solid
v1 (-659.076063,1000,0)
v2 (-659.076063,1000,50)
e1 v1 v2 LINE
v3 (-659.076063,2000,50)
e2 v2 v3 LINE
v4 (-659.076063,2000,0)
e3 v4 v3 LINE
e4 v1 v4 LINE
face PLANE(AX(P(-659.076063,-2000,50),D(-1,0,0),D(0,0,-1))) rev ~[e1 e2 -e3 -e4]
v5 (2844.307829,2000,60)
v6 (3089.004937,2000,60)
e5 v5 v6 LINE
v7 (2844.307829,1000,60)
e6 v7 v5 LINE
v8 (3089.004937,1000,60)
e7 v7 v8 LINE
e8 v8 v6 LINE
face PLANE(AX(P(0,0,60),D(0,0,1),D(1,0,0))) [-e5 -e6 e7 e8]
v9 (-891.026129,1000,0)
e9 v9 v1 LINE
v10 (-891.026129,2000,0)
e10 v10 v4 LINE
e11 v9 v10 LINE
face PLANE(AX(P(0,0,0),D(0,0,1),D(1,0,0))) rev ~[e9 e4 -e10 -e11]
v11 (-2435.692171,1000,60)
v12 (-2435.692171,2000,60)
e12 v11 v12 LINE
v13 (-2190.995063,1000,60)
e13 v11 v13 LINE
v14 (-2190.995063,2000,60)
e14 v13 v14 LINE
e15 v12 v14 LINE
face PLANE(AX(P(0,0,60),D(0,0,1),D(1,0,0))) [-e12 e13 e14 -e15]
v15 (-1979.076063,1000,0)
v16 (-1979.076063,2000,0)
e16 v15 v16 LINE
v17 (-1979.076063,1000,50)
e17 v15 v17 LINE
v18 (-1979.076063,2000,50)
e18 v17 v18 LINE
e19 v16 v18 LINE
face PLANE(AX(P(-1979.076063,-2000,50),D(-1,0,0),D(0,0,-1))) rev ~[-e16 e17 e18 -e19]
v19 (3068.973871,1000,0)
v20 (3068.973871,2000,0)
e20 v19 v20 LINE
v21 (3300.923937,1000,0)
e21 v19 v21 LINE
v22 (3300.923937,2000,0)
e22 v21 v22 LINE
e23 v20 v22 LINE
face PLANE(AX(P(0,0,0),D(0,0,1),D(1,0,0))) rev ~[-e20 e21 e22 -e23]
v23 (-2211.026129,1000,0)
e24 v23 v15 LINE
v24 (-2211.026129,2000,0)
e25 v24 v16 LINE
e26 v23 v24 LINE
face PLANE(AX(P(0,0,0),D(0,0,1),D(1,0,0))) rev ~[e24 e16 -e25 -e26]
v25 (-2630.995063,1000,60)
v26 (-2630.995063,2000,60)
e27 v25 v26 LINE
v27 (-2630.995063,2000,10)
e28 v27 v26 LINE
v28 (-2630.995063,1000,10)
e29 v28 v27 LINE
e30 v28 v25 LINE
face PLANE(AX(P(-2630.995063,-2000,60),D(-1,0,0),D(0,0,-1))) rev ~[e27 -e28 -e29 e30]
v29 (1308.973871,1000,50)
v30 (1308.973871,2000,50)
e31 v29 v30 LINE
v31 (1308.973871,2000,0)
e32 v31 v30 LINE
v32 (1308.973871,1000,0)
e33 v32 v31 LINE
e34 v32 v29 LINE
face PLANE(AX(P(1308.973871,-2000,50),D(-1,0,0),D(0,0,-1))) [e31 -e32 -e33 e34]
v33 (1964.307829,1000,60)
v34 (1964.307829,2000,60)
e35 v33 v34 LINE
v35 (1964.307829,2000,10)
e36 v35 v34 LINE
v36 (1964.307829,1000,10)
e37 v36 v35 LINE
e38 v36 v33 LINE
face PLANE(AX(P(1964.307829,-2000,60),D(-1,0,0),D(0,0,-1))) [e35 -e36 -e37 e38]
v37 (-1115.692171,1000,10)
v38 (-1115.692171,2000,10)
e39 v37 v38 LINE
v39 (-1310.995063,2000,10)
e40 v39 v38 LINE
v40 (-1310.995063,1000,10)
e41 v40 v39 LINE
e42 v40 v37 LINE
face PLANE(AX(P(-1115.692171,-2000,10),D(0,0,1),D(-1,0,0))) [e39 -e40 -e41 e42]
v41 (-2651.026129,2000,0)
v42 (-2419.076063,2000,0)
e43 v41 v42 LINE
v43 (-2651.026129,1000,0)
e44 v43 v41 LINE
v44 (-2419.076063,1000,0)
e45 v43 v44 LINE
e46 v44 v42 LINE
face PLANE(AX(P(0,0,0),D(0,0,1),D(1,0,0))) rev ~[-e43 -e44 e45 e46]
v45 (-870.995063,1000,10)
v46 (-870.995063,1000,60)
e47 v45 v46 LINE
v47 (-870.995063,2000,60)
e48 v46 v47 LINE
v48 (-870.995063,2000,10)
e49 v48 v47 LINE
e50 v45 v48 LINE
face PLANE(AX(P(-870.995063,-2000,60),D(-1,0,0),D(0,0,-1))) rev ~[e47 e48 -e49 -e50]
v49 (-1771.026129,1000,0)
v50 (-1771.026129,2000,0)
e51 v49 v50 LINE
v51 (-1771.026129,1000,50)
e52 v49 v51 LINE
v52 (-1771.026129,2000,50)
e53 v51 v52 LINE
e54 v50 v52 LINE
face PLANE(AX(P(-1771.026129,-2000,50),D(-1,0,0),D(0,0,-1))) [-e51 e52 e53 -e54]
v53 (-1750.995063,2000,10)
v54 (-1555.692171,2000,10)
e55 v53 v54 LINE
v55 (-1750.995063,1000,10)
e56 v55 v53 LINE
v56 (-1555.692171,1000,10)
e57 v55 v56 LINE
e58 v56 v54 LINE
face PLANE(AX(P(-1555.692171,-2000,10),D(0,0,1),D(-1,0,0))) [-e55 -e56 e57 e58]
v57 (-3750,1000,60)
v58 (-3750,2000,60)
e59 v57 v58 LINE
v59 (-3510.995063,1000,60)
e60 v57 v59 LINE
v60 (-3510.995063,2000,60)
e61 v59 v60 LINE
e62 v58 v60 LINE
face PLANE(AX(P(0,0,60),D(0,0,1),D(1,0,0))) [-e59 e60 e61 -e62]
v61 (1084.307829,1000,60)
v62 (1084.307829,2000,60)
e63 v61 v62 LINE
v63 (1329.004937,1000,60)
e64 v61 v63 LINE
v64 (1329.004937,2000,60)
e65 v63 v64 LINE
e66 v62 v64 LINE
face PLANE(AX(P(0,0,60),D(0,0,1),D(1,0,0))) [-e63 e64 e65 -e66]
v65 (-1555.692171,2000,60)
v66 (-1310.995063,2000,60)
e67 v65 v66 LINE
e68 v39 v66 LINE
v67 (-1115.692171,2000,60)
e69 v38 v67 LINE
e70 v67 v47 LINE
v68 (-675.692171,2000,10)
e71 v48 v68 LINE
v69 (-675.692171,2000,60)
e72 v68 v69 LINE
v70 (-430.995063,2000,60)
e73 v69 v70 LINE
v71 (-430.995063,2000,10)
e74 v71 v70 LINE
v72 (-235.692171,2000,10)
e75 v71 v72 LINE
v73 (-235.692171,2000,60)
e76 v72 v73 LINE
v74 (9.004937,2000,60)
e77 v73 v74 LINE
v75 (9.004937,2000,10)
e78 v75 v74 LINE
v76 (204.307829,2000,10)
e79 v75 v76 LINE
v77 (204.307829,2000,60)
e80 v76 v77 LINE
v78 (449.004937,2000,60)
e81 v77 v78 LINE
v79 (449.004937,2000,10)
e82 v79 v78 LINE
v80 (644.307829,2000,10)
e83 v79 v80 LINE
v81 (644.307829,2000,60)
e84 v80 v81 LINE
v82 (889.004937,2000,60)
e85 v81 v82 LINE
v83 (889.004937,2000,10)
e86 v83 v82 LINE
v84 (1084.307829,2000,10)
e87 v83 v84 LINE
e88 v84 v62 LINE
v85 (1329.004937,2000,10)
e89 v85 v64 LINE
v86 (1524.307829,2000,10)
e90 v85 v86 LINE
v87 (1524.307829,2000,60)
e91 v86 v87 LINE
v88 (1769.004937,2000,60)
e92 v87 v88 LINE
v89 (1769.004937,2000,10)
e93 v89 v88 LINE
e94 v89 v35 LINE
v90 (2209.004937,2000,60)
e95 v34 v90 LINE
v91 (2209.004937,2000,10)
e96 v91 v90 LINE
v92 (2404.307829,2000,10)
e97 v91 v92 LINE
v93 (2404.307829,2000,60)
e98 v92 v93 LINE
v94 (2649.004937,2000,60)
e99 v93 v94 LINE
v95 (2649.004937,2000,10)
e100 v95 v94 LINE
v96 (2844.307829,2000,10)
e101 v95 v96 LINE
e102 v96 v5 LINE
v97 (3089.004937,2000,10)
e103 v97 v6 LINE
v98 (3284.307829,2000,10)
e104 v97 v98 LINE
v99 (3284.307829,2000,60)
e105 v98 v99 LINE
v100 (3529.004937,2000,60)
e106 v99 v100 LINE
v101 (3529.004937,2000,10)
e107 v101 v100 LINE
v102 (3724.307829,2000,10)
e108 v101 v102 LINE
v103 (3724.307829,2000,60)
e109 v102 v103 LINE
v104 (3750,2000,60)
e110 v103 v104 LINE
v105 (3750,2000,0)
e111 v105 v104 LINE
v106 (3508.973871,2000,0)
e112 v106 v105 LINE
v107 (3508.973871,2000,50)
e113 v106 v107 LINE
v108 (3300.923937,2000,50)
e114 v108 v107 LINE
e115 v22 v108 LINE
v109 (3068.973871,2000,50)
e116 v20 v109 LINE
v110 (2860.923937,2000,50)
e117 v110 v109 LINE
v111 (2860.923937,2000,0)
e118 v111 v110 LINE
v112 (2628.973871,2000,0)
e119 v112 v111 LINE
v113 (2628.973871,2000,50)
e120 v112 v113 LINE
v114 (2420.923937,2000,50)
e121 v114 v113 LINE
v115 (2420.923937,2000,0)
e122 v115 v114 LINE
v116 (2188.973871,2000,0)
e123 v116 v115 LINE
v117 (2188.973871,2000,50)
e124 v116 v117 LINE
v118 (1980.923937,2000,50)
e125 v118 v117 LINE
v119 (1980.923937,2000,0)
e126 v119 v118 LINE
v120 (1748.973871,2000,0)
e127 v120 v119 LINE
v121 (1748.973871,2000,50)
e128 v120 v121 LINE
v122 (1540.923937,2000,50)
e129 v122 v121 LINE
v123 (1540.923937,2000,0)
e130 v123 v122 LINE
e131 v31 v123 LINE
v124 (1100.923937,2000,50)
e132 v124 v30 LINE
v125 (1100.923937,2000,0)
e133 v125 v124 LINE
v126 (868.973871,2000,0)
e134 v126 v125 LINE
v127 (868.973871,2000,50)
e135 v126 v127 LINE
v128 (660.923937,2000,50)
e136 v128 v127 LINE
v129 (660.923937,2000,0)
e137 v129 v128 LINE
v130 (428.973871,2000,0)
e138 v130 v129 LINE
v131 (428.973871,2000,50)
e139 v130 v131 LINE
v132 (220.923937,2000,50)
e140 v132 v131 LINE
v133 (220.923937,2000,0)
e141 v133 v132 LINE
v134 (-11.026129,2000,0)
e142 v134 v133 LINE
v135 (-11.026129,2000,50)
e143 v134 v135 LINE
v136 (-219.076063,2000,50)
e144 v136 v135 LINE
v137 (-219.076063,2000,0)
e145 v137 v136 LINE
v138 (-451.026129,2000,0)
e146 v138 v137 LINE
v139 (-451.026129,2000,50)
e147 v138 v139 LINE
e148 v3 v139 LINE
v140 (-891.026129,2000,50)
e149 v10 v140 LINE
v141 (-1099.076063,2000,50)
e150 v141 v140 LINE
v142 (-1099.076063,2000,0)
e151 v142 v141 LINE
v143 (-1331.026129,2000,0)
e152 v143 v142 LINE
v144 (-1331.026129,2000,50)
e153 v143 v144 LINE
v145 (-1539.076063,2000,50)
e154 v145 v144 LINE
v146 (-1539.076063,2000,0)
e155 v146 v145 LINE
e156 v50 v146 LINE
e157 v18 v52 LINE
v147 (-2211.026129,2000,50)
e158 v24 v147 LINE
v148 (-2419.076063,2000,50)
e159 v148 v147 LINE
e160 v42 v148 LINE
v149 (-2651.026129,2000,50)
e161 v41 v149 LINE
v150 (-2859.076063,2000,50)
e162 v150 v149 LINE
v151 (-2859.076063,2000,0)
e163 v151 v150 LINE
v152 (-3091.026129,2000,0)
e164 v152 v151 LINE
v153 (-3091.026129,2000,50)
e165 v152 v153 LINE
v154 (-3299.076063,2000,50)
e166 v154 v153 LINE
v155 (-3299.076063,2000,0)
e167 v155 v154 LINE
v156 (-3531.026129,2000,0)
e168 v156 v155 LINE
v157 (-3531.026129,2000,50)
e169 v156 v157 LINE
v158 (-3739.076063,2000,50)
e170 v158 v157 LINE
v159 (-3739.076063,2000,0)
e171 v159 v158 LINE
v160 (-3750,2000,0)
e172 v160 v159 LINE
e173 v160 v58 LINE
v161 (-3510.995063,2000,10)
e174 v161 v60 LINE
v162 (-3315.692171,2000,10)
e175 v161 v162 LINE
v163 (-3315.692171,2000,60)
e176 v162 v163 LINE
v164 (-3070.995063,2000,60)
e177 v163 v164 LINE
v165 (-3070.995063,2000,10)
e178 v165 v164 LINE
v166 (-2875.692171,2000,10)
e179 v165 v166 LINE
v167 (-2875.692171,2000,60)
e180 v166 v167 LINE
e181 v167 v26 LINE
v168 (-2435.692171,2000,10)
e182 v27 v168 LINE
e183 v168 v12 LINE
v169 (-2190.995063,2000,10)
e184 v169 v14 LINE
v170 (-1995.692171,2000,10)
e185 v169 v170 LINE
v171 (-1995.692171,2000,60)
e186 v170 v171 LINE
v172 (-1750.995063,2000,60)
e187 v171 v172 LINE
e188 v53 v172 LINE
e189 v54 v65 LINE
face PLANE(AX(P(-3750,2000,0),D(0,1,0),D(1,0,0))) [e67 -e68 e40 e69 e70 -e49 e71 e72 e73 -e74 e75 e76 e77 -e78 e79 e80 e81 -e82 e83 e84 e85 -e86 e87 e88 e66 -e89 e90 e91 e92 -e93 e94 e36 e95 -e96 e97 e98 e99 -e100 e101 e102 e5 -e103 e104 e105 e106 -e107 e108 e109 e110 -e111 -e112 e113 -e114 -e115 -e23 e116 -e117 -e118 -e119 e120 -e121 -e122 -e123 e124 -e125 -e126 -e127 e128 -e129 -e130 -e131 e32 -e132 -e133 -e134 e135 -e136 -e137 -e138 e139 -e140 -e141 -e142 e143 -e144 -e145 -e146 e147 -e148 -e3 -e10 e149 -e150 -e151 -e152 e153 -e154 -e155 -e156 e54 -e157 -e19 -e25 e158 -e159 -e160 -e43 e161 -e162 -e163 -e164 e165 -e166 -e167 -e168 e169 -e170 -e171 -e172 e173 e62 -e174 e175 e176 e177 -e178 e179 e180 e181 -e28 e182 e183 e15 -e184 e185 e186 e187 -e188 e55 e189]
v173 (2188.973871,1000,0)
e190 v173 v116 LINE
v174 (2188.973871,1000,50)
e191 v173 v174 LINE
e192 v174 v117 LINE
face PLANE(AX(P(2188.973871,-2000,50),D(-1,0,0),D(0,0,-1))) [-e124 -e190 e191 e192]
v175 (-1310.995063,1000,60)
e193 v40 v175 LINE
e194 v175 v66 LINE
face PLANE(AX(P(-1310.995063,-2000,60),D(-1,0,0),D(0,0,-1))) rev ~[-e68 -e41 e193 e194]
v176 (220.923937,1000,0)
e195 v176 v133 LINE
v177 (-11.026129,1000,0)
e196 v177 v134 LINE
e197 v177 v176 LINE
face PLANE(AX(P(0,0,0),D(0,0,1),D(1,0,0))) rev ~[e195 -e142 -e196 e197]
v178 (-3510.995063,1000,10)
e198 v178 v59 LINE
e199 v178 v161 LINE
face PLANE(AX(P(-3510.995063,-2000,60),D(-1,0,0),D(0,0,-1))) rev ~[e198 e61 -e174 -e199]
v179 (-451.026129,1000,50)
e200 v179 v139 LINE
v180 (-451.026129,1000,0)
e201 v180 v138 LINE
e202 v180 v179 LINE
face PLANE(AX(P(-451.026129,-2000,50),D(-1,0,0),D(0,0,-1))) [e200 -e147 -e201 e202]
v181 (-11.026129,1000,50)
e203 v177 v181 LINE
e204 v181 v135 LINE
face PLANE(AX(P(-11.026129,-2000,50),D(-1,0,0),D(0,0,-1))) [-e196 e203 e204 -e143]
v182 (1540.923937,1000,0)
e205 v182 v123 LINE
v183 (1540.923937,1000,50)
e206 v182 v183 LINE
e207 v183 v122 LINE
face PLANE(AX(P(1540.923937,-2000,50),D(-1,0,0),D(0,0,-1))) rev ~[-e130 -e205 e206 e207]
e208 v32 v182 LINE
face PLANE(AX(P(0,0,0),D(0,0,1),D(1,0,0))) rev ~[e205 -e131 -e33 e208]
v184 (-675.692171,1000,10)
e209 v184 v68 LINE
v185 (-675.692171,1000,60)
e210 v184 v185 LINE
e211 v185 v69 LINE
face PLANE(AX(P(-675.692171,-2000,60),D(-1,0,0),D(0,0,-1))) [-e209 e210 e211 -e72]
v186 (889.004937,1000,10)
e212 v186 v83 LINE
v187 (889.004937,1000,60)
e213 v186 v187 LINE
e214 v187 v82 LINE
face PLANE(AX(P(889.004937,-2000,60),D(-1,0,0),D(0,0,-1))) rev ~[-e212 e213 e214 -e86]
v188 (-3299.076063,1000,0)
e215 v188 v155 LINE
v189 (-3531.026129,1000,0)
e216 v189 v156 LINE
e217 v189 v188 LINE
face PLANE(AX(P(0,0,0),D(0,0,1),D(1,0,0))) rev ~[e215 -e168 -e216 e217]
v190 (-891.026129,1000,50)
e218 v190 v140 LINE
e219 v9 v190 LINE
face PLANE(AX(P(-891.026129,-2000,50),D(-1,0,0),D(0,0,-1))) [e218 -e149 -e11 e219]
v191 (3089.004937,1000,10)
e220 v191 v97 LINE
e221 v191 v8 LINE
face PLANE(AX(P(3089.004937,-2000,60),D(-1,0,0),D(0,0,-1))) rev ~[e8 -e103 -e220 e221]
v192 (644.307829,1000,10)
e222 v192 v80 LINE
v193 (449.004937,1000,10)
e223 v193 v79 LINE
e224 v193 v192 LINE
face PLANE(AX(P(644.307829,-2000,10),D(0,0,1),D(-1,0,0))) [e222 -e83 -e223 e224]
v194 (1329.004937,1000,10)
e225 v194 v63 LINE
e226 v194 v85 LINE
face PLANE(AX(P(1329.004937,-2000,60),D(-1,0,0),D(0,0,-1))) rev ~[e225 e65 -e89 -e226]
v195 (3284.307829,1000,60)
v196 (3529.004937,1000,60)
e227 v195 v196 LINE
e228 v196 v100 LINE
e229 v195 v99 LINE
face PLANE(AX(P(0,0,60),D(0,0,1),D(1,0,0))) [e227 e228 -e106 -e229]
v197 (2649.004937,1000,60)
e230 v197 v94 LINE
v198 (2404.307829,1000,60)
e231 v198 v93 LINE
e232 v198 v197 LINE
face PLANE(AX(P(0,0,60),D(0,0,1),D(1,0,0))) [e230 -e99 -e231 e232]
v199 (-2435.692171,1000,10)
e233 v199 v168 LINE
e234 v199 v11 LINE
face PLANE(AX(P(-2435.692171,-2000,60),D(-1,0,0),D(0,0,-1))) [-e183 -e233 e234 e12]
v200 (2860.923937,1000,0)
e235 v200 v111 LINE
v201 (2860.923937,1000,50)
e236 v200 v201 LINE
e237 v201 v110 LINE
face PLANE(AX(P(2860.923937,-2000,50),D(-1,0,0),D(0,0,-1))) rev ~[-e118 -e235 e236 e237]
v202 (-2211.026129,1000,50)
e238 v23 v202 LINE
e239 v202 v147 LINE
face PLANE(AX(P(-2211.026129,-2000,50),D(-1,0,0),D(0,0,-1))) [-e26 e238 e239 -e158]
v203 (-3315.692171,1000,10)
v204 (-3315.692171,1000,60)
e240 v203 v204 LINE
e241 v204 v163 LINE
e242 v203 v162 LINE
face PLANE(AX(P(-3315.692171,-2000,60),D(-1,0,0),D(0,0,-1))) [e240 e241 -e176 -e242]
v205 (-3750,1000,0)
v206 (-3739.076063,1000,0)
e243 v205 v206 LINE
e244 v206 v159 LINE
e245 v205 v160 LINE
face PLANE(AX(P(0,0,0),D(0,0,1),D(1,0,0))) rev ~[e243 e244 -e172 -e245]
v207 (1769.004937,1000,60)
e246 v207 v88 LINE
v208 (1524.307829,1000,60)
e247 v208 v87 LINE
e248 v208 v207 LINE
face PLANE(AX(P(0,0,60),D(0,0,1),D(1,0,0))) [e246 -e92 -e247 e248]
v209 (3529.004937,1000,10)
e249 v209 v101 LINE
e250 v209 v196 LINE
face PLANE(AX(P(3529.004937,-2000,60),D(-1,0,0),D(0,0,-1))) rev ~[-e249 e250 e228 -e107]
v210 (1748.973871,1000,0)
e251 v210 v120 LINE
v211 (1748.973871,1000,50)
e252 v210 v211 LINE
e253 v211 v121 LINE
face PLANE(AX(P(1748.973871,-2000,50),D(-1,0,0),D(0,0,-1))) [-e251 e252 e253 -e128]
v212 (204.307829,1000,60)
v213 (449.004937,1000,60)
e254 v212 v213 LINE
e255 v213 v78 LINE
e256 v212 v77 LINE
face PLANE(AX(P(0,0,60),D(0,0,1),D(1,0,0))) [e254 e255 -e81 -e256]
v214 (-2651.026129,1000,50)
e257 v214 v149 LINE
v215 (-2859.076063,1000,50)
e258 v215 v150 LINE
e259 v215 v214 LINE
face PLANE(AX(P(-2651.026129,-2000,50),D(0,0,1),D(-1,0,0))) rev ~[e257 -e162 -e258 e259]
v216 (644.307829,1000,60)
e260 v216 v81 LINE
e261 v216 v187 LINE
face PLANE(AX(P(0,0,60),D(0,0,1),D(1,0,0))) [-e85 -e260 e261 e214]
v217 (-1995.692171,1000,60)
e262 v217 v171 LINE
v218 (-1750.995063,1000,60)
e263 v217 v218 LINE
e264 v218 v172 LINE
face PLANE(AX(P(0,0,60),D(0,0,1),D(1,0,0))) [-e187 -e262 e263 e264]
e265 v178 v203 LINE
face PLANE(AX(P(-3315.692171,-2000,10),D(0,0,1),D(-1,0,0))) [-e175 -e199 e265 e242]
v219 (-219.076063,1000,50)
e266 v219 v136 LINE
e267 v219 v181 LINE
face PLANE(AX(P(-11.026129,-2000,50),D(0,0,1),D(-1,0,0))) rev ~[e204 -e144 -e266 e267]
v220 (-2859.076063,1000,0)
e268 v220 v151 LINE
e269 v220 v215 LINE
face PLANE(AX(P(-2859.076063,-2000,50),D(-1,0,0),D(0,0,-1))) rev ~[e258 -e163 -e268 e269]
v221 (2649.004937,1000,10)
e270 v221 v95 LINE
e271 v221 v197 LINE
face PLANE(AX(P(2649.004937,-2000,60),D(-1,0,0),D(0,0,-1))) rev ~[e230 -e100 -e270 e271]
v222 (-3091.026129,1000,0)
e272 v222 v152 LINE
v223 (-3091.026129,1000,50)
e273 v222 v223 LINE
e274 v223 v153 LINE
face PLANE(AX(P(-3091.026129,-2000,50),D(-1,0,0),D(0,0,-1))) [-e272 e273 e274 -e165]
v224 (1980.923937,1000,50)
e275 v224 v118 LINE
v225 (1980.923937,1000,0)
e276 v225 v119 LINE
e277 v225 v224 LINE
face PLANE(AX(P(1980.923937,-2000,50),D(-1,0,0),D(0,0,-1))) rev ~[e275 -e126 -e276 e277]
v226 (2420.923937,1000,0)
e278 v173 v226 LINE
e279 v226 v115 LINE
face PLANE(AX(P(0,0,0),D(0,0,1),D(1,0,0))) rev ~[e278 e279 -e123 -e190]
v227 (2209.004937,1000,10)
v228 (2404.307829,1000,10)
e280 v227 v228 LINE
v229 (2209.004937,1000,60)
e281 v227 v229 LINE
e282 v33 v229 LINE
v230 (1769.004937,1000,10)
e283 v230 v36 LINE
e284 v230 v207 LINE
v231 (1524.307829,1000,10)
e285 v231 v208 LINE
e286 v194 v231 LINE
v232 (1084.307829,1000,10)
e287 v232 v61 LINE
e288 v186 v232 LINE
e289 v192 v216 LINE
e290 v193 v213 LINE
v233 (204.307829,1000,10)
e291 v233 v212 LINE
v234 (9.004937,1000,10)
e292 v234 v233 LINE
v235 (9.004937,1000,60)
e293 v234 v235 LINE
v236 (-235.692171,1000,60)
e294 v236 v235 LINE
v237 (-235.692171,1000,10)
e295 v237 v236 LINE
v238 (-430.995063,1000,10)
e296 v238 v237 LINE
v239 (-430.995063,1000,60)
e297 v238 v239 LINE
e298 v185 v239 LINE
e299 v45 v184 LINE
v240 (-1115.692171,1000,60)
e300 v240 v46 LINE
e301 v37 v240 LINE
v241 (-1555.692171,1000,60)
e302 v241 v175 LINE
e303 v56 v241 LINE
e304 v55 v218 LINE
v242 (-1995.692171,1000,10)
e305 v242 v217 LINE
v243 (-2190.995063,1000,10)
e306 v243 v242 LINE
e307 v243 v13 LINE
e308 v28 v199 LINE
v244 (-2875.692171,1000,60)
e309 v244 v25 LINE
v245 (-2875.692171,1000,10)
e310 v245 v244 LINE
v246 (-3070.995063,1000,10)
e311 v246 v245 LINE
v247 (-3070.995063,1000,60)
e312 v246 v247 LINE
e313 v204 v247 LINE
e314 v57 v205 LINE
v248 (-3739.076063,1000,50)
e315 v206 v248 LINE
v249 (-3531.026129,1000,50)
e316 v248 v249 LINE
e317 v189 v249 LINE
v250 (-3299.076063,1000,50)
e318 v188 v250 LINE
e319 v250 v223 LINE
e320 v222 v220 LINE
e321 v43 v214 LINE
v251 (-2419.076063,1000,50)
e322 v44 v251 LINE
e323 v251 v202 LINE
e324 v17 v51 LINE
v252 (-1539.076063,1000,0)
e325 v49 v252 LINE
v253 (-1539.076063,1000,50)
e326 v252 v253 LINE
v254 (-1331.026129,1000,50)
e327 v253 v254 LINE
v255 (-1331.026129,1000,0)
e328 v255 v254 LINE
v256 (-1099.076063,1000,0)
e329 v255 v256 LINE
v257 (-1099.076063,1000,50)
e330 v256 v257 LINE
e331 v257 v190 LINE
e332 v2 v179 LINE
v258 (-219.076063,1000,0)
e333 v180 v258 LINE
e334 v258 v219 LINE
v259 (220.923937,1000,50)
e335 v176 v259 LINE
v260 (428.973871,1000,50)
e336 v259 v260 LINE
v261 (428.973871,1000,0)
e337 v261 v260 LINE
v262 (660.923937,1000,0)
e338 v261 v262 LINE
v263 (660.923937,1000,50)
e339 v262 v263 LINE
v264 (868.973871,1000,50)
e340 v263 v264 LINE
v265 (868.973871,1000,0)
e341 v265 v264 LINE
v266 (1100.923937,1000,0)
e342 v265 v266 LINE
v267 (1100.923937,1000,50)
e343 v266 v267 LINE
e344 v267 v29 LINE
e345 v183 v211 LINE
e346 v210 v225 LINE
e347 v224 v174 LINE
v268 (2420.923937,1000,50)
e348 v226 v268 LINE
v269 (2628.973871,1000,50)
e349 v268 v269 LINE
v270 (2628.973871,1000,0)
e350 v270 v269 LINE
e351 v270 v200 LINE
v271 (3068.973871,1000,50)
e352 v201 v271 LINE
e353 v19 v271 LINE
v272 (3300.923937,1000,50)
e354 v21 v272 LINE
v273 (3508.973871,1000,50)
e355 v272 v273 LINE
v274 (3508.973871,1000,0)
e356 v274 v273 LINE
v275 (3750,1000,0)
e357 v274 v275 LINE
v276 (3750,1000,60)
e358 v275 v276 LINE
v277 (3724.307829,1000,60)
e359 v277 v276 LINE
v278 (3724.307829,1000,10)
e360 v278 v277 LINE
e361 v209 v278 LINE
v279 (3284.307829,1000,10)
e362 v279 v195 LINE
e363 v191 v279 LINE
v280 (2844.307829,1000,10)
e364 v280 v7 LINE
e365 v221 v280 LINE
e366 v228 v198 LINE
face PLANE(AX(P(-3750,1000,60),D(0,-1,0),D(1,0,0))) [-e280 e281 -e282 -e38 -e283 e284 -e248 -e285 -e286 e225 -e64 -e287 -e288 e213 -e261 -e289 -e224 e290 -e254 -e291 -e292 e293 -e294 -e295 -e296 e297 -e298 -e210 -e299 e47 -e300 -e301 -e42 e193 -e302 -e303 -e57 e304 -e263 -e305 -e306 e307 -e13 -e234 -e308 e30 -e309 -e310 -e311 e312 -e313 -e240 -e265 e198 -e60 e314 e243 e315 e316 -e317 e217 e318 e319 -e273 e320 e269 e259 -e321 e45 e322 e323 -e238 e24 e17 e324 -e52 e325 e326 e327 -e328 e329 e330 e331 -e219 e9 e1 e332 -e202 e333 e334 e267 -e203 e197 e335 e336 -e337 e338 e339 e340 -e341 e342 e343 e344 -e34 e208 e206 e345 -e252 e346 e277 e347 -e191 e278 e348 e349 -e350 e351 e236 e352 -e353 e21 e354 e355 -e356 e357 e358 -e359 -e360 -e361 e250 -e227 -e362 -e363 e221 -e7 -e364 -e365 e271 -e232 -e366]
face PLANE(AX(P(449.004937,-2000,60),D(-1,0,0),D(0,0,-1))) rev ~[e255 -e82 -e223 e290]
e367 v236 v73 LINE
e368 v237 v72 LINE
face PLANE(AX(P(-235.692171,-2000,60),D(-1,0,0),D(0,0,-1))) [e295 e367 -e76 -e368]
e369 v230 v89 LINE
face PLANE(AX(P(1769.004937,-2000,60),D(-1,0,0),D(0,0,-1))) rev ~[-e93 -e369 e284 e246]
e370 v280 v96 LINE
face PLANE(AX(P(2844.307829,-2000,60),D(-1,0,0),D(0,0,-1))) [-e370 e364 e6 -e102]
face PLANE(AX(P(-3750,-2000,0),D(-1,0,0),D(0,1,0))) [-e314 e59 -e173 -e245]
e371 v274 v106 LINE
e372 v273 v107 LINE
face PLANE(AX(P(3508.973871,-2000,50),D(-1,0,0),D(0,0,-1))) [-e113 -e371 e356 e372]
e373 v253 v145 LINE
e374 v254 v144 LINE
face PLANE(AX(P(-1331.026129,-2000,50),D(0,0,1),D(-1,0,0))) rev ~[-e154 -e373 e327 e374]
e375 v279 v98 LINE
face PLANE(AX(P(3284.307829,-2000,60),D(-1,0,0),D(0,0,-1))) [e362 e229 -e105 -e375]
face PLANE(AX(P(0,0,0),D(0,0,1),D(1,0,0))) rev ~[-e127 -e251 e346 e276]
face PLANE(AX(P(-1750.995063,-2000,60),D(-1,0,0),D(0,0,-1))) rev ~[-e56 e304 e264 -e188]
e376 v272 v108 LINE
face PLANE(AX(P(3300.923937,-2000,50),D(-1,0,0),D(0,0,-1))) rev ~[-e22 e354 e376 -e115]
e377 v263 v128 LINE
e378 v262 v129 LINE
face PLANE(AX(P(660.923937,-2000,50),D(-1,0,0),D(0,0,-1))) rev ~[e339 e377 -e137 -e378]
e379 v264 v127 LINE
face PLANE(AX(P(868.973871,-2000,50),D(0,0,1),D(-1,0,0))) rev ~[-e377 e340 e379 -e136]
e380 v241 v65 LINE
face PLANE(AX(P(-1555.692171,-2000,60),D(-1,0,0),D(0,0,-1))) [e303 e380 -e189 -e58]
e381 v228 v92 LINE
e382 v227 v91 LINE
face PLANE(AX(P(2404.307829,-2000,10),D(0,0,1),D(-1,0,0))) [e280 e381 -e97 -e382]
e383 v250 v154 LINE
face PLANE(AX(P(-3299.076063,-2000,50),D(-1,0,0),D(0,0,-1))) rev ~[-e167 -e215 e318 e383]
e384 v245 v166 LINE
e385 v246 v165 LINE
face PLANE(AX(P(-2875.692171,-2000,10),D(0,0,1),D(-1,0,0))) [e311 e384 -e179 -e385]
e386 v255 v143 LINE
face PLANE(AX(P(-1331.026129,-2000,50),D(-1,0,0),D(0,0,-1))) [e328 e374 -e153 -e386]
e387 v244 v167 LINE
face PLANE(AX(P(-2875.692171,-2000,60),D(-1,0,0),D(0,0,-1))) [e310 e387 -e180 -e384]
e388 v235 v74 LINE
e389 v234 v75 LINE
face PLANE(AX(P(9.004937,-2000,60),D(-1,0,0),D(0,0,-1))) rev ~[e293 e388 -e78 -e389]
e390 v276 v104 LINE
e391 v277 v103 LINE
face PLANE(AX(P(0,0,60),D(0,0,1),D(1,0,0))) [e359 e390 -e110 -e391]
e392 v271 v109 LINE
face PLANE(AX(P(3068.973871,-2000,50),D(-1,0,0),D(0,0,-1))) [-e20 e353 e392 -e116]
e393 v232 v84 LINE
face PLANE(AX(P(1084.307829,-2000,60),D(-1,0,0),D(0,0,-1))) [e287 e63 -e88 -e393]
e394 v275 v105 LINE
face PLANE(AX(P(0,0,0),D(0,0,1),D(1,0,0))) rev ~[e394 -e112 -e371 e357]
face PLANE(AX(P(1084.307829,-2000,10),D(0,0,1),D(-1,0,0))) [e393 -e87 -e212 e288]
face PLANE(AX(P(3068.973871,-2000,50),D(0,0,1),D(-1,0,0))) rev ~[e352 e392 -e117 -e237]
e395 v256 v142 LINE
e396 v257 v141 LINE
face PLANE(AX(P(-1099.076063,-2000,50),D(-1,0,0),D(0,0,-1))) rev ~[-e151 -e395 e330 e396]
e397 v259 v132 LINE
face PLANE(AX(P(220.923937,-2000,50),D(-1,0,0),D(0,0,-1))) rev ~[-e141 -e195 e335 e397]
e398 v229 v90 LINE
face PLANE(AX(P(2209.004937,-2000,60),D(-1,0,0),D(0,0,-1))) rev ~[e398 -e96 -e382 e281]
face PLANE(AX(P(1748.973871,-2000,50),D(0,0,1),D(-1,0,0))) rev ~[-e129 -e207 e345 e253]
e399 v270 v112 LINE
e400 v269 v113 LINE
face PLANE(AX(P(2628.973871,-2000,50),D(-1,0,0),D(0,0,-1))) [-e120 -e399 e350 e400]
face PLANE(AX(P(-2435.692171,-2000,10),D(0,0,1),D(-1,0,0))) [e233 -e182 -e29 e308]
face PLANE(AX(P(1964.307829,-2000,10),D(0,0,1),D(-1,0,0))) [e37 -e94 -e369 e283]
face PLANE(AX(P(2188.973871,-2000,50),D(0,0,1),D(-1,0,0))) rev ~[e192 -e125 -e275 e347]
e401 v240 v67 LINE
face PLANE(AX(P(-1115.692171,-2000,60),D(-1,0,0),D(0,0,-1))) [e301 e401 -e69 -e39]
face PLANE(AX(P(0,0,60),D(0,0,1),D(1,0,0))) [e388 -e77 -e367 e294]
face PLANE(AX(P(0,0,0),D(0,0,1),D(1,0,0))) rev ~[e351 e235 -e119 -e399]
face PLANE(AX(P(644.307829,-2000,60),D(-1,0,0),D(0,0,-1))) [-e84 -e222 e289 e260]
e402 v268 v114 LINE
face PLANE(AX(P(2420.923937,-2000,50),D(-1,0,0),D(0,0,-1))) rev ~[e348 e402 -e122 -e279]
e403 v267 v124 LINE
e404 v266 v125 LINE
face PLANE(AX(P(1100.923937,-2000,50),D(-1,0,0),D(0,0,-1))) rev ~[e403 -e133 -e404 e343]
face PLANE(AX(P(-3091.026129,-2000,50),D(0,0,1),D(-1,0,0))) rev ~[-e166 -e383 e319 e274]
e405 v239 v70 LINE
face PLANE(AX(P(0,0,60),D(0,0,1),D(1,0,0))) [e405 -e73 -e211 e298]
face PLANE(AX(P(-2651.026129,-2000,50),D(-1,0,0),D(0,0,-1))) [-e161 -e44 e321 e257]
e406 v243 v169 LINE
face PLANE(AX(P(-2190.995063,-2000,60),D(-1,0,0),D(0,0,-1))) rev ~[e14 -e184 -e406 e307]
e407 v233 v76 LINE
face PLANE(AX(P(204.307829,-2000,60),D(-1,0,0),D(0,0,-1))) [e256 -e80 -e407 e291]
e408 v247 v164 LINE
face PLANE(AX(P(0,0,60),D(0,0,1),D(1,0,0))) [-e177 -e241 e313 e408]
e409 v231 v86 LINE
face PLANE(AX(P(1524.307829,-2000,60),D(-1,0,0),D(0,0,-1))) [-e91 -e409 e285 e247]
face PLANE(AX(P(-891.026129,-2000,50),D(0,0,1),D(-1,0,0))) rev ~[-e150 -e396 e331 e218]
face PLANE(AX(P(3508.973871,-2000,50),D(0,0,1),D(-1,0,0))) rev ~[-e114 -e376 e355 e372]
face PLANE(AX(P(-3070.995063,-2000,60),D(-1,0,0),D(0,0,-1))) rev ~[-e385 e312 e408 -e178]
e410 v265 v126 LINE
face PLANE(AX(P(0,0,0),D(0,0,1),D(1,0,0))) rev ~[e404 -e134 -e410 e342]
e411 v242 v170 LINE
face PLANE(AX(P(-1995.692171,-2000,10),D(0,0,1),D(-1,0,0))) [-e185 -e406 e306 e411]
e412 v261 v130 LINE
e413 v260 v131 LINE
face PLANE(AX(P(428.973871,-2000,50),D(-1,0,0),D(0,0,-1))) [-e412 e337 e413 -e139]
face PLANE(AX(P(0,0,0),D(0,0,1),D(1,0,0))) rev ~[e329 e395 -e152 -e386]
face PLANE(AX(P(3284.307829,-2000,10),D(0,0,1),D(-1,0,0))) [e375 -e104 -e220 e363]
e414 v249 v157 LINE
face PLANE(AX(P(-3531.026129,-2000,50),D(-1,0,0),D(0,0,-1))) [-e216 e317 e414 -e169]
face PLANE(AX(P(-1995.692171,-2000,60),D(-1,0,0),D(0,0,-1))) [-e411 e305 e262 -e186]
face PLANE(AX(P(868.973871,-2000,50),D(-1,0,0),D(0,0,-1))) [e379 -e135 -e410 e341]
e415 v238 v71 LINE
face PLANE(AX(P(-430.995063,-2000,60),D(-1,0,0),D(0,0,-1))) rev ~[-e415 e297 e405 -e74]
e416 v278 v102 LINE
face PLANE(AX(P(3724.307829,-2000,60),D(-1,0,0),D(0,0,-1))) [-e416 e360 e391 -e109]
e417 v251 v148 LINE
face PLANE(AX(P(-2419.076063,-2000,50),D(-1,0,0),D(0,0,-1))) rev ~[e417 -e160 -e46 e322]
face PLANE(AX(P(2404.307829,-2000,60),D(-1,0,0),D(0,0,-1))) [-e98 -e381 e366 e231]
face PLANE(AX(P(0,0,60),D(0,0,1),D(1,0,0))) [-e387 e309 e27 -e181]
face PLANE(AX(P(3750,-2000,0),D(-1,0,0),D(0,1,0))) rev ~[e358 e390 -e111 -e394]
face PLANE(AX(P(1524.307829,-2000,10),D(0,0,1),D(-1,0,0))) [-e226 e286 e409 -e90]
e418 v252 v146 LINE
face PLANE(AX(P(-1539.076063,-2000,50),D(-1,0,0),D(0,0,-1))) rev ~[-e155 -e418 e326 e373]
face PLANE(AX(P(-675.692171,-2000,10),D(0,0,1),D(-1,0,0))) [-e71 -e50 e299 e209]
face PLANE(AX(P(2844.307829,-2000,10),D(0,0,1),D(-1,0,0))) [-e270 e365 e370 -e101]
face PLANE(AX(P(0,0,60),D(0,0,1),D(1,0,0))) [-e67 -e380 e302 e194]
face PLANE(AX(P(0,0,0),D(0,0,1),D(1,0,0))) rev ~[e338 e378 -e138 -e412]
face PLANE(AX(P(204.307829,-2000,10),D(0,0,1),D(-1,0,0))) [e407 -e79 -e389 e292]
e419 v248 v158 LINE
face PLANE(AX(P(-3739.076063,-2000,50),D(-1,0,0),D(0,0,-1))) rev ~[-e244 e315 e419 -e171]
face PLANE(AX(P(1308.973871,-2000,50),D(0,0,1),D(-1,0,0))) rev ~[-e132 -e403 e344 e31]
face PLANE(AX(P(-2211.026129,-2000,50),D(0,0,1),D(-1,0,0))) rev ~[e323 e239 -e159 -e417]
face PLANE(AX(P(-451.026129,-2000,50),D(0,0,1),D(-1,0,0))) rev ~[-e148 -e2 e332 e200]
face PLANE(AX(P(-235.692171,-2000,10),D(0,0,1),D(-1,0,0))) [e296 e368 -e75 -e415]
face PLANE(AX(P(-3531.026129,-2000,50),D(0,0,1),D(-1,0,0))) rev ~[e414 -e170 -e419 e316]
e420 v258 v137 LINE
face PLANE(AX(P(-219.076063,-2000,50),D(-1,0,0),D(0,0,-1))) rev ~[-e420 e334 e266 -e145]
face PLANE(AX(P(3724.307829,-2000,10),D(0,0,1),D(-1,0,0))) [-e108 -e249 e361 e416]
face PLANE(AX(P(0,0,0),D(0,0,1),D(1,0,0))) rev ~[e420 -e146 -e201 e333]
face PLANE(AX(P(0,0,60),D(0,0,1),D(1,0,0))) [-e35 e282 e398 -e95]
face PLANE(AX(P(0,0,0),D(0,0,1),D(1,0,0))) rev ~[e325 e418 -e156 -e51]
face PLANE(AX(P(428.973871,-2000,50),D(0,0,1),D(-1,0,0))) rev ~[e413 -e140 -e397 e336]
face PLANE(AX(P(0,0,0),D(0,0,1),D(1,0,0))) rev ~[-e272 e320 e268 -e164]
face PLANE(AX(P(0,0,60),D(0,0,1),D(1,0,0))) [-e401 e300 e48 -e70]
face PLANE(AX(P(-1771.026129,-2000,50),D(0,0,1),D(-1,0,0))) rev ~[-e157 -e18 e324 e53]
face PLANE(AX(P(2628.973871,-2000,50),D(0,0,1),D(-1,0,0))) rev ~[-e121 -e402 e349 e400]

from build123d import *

# Parameters (mm, degrees)
SKETCH1_W           = 7500
SKETCH1_H           = 4000
BOSS_EXTRUDE1_DEPTH = 60
SKETCH2_W           = 208.04993412
SKETCH2_H           = 50
SKETCH2_W_2         = 195.302892205
CUT_EXTRUDE1_DEPTH  = 5107
SKETCH3_W           = 8196.868920553
SKETCH3_H           = 2618.215118215
CUT_EXTRUDE2_DEPTH  = 1189.715985199
SKETCH4_W           = 8610.420371691
SKETCH4_H           = 2020.754263889
CUT_EXTRUDE3_DEPTH  = 1189.715985199


with BuildPart() as part:
    # Sketch1 → Boss-Extrude1 (new body)
    with BuildSketch(Plane.XY):
        Rectangle(SKETCH1_W, SKETCH1_H)
    extrude(amount=BOSS_EXTRUDE1_DEPTH)

    # Sketch2 → Cut-Extrude1 (cut)
    with BuildSketch(Plane(origin=(0, -2000, 0), x_dir=(-1, 0, 0), z_dir=(0, -1, 0))):
        with Locations((3635.051095731, -25)):
            Rectangle(SKETCH2_W, SKETCH2_H)
        with Locations((3413.343616701, -35)):
            Rectangle(SKETCH2_W_2, SKETCH2_H)
        with Locations((3195.051095731, -25)):
            Rectangle(SKETCH2_W, SKETCH2_H)
        with Locations((2973.343616701, -35)):
            Rectangle(SKETCH2_W_2, SKETCH2_H)
        with Locations((2755.051095731, -25)):
            Rectangle(SKETCH2_W, SKETCH2_H)
        with Locations((2533.343616701, -35)):
            Rectangle(SKETCH2_W_2, SKETCH2_H)
        with Locations((2315.051095731, -25)):
            Rectangle(SKETCH2_W, SKETCH2_H)
        with Locations((2093.343616701, -35)):
            Rectangle(SKETCH2_W_2, SKETCH2_H)
        with Locations((1875.051095731, -25)):
            Rectangle(SKETCH2_W, SKETCH2_H)
        with Locations((1653.343616701, -35)):
            Rectangle(SKETCH2_W_2, SKETCH2_H)
        with Locations((1435.051095731, -25)):
            Rectangle(SKETCH2_W, SKETCH2_H)
        with Locations((1213.343616701, -35)):
            Rectangle(SKETCH2_W_2, SKETCH2_H)
        with Locations((995.051095731, -25)):
            Rectangle(SKETCH2_W, SKETCH2_H)
        with Locations((773.343616701, -35)):
            Rectangle(SKETCH2_W_2, SKETCH2_H)
        with Locations((555.051095731, -25)):
            Rectangle(SKETCH2_W, SKETCH2_H)
        with Locations((333.343616701, -35)):
            Rectangle(SKETCH2_W_2, SKETCH2_H)
        with Locations((115.051095731, -25)):
            Rectangle(SKETCH2_W, SKETCH2_H)
        with Locations((-106.6563833, -35)):
            Rectangle(SKETCH2_W_2, SKETCH2_H)
        with Locations((-324.948904269, -25)):
            Rectangle(SKETCH2_W, SKETCH2_H)
        with Locations((-546.6563833, -35)):
            Rectangle(SKETCH2_W_2, SKETCH2_H)
        with Locations((-764.948904269, -25)):
            Rectangle(SKETCH2_W, SKETCH2_H)
        with Locations((-986.6563833, -35)):
            Rectangle(SKETCH2_W_2, SKETCH2_H)
        with Locations((-1204.948904269, -25)):
            Rectangle(SKETCH2_W, SKETCH2_H)
        with Locations((-1426.6563833, -35)):
            Rectangle(SKETCH2_W_2, SKETCH2_H)
        with Locations((-1644.948904269, -25)):
            Rectangle(SKETCH2_W, SKETCH2_H)
        with Locations((-1866.6563833, -35)):
            Rectangle(SKETCH2_W_2, SKETCH2_H)
        with Locations((-2084.948904269, -25)):
            Rectangle(SKETCH2_W, SKETCH2_H)
        with Locations((-2306.6563833, -35)):
            Rectangle(SKETCH2_W_2, SKETCH2_H)
        with Locations((-2524.948904269, -25)):
            Rectangle(SKETCH2_W, SKETCH2_H)
        with Locations((-2746.6563833, -35)):
            Rectangle(SKETCH2_W_2, SKETCH2_H)
        with Locations((-2964.948904269, -25)):
            Rectangle(SKETCH2_W, SKETCH2_H)
        with Locations((-3186.6563833, -35)):
            Rectangle(SKETCH2_W_2, SKETCH2_H)
        with Locations((-3404.948904269, -25)):
            Rectangle(SKETCH2_W, SKETCH2_H)
        with Locations((-3626.6563833, -35)):
            Rectangle(SKETCH2_W_2, SKETCH2_H)
    extrude(amount=-CUT_EXTRUDE1_DEPTH, mode=Mode.SUBTRACT)

    # Sketch3 → Cut-Extrude2 (cut)
    with BuildSketch(Plane.XY.offset(60)):
        with Locations((348.434460276, -1309.107559108)):
            Rectangle(SKETCH3_W, SKETCH3_H)
    extrude(amount=-CUT_EXTRUDE2_DEPTH, mode=Mode.SUBTRACT)

    # Sketch4 → Cut-Extrude3 (cut)
    with BuildSketch(Plane.XY.offset(60)):
        with Locations((555.210185846, -10.377131944)):
            Rectangle(SKETCH4_W, SKETCH4_H)
    extrude(amount=-CUT_EXTRUDE3_DEPTH, mode=Mode.SUBTRACT)


solid = part.part
